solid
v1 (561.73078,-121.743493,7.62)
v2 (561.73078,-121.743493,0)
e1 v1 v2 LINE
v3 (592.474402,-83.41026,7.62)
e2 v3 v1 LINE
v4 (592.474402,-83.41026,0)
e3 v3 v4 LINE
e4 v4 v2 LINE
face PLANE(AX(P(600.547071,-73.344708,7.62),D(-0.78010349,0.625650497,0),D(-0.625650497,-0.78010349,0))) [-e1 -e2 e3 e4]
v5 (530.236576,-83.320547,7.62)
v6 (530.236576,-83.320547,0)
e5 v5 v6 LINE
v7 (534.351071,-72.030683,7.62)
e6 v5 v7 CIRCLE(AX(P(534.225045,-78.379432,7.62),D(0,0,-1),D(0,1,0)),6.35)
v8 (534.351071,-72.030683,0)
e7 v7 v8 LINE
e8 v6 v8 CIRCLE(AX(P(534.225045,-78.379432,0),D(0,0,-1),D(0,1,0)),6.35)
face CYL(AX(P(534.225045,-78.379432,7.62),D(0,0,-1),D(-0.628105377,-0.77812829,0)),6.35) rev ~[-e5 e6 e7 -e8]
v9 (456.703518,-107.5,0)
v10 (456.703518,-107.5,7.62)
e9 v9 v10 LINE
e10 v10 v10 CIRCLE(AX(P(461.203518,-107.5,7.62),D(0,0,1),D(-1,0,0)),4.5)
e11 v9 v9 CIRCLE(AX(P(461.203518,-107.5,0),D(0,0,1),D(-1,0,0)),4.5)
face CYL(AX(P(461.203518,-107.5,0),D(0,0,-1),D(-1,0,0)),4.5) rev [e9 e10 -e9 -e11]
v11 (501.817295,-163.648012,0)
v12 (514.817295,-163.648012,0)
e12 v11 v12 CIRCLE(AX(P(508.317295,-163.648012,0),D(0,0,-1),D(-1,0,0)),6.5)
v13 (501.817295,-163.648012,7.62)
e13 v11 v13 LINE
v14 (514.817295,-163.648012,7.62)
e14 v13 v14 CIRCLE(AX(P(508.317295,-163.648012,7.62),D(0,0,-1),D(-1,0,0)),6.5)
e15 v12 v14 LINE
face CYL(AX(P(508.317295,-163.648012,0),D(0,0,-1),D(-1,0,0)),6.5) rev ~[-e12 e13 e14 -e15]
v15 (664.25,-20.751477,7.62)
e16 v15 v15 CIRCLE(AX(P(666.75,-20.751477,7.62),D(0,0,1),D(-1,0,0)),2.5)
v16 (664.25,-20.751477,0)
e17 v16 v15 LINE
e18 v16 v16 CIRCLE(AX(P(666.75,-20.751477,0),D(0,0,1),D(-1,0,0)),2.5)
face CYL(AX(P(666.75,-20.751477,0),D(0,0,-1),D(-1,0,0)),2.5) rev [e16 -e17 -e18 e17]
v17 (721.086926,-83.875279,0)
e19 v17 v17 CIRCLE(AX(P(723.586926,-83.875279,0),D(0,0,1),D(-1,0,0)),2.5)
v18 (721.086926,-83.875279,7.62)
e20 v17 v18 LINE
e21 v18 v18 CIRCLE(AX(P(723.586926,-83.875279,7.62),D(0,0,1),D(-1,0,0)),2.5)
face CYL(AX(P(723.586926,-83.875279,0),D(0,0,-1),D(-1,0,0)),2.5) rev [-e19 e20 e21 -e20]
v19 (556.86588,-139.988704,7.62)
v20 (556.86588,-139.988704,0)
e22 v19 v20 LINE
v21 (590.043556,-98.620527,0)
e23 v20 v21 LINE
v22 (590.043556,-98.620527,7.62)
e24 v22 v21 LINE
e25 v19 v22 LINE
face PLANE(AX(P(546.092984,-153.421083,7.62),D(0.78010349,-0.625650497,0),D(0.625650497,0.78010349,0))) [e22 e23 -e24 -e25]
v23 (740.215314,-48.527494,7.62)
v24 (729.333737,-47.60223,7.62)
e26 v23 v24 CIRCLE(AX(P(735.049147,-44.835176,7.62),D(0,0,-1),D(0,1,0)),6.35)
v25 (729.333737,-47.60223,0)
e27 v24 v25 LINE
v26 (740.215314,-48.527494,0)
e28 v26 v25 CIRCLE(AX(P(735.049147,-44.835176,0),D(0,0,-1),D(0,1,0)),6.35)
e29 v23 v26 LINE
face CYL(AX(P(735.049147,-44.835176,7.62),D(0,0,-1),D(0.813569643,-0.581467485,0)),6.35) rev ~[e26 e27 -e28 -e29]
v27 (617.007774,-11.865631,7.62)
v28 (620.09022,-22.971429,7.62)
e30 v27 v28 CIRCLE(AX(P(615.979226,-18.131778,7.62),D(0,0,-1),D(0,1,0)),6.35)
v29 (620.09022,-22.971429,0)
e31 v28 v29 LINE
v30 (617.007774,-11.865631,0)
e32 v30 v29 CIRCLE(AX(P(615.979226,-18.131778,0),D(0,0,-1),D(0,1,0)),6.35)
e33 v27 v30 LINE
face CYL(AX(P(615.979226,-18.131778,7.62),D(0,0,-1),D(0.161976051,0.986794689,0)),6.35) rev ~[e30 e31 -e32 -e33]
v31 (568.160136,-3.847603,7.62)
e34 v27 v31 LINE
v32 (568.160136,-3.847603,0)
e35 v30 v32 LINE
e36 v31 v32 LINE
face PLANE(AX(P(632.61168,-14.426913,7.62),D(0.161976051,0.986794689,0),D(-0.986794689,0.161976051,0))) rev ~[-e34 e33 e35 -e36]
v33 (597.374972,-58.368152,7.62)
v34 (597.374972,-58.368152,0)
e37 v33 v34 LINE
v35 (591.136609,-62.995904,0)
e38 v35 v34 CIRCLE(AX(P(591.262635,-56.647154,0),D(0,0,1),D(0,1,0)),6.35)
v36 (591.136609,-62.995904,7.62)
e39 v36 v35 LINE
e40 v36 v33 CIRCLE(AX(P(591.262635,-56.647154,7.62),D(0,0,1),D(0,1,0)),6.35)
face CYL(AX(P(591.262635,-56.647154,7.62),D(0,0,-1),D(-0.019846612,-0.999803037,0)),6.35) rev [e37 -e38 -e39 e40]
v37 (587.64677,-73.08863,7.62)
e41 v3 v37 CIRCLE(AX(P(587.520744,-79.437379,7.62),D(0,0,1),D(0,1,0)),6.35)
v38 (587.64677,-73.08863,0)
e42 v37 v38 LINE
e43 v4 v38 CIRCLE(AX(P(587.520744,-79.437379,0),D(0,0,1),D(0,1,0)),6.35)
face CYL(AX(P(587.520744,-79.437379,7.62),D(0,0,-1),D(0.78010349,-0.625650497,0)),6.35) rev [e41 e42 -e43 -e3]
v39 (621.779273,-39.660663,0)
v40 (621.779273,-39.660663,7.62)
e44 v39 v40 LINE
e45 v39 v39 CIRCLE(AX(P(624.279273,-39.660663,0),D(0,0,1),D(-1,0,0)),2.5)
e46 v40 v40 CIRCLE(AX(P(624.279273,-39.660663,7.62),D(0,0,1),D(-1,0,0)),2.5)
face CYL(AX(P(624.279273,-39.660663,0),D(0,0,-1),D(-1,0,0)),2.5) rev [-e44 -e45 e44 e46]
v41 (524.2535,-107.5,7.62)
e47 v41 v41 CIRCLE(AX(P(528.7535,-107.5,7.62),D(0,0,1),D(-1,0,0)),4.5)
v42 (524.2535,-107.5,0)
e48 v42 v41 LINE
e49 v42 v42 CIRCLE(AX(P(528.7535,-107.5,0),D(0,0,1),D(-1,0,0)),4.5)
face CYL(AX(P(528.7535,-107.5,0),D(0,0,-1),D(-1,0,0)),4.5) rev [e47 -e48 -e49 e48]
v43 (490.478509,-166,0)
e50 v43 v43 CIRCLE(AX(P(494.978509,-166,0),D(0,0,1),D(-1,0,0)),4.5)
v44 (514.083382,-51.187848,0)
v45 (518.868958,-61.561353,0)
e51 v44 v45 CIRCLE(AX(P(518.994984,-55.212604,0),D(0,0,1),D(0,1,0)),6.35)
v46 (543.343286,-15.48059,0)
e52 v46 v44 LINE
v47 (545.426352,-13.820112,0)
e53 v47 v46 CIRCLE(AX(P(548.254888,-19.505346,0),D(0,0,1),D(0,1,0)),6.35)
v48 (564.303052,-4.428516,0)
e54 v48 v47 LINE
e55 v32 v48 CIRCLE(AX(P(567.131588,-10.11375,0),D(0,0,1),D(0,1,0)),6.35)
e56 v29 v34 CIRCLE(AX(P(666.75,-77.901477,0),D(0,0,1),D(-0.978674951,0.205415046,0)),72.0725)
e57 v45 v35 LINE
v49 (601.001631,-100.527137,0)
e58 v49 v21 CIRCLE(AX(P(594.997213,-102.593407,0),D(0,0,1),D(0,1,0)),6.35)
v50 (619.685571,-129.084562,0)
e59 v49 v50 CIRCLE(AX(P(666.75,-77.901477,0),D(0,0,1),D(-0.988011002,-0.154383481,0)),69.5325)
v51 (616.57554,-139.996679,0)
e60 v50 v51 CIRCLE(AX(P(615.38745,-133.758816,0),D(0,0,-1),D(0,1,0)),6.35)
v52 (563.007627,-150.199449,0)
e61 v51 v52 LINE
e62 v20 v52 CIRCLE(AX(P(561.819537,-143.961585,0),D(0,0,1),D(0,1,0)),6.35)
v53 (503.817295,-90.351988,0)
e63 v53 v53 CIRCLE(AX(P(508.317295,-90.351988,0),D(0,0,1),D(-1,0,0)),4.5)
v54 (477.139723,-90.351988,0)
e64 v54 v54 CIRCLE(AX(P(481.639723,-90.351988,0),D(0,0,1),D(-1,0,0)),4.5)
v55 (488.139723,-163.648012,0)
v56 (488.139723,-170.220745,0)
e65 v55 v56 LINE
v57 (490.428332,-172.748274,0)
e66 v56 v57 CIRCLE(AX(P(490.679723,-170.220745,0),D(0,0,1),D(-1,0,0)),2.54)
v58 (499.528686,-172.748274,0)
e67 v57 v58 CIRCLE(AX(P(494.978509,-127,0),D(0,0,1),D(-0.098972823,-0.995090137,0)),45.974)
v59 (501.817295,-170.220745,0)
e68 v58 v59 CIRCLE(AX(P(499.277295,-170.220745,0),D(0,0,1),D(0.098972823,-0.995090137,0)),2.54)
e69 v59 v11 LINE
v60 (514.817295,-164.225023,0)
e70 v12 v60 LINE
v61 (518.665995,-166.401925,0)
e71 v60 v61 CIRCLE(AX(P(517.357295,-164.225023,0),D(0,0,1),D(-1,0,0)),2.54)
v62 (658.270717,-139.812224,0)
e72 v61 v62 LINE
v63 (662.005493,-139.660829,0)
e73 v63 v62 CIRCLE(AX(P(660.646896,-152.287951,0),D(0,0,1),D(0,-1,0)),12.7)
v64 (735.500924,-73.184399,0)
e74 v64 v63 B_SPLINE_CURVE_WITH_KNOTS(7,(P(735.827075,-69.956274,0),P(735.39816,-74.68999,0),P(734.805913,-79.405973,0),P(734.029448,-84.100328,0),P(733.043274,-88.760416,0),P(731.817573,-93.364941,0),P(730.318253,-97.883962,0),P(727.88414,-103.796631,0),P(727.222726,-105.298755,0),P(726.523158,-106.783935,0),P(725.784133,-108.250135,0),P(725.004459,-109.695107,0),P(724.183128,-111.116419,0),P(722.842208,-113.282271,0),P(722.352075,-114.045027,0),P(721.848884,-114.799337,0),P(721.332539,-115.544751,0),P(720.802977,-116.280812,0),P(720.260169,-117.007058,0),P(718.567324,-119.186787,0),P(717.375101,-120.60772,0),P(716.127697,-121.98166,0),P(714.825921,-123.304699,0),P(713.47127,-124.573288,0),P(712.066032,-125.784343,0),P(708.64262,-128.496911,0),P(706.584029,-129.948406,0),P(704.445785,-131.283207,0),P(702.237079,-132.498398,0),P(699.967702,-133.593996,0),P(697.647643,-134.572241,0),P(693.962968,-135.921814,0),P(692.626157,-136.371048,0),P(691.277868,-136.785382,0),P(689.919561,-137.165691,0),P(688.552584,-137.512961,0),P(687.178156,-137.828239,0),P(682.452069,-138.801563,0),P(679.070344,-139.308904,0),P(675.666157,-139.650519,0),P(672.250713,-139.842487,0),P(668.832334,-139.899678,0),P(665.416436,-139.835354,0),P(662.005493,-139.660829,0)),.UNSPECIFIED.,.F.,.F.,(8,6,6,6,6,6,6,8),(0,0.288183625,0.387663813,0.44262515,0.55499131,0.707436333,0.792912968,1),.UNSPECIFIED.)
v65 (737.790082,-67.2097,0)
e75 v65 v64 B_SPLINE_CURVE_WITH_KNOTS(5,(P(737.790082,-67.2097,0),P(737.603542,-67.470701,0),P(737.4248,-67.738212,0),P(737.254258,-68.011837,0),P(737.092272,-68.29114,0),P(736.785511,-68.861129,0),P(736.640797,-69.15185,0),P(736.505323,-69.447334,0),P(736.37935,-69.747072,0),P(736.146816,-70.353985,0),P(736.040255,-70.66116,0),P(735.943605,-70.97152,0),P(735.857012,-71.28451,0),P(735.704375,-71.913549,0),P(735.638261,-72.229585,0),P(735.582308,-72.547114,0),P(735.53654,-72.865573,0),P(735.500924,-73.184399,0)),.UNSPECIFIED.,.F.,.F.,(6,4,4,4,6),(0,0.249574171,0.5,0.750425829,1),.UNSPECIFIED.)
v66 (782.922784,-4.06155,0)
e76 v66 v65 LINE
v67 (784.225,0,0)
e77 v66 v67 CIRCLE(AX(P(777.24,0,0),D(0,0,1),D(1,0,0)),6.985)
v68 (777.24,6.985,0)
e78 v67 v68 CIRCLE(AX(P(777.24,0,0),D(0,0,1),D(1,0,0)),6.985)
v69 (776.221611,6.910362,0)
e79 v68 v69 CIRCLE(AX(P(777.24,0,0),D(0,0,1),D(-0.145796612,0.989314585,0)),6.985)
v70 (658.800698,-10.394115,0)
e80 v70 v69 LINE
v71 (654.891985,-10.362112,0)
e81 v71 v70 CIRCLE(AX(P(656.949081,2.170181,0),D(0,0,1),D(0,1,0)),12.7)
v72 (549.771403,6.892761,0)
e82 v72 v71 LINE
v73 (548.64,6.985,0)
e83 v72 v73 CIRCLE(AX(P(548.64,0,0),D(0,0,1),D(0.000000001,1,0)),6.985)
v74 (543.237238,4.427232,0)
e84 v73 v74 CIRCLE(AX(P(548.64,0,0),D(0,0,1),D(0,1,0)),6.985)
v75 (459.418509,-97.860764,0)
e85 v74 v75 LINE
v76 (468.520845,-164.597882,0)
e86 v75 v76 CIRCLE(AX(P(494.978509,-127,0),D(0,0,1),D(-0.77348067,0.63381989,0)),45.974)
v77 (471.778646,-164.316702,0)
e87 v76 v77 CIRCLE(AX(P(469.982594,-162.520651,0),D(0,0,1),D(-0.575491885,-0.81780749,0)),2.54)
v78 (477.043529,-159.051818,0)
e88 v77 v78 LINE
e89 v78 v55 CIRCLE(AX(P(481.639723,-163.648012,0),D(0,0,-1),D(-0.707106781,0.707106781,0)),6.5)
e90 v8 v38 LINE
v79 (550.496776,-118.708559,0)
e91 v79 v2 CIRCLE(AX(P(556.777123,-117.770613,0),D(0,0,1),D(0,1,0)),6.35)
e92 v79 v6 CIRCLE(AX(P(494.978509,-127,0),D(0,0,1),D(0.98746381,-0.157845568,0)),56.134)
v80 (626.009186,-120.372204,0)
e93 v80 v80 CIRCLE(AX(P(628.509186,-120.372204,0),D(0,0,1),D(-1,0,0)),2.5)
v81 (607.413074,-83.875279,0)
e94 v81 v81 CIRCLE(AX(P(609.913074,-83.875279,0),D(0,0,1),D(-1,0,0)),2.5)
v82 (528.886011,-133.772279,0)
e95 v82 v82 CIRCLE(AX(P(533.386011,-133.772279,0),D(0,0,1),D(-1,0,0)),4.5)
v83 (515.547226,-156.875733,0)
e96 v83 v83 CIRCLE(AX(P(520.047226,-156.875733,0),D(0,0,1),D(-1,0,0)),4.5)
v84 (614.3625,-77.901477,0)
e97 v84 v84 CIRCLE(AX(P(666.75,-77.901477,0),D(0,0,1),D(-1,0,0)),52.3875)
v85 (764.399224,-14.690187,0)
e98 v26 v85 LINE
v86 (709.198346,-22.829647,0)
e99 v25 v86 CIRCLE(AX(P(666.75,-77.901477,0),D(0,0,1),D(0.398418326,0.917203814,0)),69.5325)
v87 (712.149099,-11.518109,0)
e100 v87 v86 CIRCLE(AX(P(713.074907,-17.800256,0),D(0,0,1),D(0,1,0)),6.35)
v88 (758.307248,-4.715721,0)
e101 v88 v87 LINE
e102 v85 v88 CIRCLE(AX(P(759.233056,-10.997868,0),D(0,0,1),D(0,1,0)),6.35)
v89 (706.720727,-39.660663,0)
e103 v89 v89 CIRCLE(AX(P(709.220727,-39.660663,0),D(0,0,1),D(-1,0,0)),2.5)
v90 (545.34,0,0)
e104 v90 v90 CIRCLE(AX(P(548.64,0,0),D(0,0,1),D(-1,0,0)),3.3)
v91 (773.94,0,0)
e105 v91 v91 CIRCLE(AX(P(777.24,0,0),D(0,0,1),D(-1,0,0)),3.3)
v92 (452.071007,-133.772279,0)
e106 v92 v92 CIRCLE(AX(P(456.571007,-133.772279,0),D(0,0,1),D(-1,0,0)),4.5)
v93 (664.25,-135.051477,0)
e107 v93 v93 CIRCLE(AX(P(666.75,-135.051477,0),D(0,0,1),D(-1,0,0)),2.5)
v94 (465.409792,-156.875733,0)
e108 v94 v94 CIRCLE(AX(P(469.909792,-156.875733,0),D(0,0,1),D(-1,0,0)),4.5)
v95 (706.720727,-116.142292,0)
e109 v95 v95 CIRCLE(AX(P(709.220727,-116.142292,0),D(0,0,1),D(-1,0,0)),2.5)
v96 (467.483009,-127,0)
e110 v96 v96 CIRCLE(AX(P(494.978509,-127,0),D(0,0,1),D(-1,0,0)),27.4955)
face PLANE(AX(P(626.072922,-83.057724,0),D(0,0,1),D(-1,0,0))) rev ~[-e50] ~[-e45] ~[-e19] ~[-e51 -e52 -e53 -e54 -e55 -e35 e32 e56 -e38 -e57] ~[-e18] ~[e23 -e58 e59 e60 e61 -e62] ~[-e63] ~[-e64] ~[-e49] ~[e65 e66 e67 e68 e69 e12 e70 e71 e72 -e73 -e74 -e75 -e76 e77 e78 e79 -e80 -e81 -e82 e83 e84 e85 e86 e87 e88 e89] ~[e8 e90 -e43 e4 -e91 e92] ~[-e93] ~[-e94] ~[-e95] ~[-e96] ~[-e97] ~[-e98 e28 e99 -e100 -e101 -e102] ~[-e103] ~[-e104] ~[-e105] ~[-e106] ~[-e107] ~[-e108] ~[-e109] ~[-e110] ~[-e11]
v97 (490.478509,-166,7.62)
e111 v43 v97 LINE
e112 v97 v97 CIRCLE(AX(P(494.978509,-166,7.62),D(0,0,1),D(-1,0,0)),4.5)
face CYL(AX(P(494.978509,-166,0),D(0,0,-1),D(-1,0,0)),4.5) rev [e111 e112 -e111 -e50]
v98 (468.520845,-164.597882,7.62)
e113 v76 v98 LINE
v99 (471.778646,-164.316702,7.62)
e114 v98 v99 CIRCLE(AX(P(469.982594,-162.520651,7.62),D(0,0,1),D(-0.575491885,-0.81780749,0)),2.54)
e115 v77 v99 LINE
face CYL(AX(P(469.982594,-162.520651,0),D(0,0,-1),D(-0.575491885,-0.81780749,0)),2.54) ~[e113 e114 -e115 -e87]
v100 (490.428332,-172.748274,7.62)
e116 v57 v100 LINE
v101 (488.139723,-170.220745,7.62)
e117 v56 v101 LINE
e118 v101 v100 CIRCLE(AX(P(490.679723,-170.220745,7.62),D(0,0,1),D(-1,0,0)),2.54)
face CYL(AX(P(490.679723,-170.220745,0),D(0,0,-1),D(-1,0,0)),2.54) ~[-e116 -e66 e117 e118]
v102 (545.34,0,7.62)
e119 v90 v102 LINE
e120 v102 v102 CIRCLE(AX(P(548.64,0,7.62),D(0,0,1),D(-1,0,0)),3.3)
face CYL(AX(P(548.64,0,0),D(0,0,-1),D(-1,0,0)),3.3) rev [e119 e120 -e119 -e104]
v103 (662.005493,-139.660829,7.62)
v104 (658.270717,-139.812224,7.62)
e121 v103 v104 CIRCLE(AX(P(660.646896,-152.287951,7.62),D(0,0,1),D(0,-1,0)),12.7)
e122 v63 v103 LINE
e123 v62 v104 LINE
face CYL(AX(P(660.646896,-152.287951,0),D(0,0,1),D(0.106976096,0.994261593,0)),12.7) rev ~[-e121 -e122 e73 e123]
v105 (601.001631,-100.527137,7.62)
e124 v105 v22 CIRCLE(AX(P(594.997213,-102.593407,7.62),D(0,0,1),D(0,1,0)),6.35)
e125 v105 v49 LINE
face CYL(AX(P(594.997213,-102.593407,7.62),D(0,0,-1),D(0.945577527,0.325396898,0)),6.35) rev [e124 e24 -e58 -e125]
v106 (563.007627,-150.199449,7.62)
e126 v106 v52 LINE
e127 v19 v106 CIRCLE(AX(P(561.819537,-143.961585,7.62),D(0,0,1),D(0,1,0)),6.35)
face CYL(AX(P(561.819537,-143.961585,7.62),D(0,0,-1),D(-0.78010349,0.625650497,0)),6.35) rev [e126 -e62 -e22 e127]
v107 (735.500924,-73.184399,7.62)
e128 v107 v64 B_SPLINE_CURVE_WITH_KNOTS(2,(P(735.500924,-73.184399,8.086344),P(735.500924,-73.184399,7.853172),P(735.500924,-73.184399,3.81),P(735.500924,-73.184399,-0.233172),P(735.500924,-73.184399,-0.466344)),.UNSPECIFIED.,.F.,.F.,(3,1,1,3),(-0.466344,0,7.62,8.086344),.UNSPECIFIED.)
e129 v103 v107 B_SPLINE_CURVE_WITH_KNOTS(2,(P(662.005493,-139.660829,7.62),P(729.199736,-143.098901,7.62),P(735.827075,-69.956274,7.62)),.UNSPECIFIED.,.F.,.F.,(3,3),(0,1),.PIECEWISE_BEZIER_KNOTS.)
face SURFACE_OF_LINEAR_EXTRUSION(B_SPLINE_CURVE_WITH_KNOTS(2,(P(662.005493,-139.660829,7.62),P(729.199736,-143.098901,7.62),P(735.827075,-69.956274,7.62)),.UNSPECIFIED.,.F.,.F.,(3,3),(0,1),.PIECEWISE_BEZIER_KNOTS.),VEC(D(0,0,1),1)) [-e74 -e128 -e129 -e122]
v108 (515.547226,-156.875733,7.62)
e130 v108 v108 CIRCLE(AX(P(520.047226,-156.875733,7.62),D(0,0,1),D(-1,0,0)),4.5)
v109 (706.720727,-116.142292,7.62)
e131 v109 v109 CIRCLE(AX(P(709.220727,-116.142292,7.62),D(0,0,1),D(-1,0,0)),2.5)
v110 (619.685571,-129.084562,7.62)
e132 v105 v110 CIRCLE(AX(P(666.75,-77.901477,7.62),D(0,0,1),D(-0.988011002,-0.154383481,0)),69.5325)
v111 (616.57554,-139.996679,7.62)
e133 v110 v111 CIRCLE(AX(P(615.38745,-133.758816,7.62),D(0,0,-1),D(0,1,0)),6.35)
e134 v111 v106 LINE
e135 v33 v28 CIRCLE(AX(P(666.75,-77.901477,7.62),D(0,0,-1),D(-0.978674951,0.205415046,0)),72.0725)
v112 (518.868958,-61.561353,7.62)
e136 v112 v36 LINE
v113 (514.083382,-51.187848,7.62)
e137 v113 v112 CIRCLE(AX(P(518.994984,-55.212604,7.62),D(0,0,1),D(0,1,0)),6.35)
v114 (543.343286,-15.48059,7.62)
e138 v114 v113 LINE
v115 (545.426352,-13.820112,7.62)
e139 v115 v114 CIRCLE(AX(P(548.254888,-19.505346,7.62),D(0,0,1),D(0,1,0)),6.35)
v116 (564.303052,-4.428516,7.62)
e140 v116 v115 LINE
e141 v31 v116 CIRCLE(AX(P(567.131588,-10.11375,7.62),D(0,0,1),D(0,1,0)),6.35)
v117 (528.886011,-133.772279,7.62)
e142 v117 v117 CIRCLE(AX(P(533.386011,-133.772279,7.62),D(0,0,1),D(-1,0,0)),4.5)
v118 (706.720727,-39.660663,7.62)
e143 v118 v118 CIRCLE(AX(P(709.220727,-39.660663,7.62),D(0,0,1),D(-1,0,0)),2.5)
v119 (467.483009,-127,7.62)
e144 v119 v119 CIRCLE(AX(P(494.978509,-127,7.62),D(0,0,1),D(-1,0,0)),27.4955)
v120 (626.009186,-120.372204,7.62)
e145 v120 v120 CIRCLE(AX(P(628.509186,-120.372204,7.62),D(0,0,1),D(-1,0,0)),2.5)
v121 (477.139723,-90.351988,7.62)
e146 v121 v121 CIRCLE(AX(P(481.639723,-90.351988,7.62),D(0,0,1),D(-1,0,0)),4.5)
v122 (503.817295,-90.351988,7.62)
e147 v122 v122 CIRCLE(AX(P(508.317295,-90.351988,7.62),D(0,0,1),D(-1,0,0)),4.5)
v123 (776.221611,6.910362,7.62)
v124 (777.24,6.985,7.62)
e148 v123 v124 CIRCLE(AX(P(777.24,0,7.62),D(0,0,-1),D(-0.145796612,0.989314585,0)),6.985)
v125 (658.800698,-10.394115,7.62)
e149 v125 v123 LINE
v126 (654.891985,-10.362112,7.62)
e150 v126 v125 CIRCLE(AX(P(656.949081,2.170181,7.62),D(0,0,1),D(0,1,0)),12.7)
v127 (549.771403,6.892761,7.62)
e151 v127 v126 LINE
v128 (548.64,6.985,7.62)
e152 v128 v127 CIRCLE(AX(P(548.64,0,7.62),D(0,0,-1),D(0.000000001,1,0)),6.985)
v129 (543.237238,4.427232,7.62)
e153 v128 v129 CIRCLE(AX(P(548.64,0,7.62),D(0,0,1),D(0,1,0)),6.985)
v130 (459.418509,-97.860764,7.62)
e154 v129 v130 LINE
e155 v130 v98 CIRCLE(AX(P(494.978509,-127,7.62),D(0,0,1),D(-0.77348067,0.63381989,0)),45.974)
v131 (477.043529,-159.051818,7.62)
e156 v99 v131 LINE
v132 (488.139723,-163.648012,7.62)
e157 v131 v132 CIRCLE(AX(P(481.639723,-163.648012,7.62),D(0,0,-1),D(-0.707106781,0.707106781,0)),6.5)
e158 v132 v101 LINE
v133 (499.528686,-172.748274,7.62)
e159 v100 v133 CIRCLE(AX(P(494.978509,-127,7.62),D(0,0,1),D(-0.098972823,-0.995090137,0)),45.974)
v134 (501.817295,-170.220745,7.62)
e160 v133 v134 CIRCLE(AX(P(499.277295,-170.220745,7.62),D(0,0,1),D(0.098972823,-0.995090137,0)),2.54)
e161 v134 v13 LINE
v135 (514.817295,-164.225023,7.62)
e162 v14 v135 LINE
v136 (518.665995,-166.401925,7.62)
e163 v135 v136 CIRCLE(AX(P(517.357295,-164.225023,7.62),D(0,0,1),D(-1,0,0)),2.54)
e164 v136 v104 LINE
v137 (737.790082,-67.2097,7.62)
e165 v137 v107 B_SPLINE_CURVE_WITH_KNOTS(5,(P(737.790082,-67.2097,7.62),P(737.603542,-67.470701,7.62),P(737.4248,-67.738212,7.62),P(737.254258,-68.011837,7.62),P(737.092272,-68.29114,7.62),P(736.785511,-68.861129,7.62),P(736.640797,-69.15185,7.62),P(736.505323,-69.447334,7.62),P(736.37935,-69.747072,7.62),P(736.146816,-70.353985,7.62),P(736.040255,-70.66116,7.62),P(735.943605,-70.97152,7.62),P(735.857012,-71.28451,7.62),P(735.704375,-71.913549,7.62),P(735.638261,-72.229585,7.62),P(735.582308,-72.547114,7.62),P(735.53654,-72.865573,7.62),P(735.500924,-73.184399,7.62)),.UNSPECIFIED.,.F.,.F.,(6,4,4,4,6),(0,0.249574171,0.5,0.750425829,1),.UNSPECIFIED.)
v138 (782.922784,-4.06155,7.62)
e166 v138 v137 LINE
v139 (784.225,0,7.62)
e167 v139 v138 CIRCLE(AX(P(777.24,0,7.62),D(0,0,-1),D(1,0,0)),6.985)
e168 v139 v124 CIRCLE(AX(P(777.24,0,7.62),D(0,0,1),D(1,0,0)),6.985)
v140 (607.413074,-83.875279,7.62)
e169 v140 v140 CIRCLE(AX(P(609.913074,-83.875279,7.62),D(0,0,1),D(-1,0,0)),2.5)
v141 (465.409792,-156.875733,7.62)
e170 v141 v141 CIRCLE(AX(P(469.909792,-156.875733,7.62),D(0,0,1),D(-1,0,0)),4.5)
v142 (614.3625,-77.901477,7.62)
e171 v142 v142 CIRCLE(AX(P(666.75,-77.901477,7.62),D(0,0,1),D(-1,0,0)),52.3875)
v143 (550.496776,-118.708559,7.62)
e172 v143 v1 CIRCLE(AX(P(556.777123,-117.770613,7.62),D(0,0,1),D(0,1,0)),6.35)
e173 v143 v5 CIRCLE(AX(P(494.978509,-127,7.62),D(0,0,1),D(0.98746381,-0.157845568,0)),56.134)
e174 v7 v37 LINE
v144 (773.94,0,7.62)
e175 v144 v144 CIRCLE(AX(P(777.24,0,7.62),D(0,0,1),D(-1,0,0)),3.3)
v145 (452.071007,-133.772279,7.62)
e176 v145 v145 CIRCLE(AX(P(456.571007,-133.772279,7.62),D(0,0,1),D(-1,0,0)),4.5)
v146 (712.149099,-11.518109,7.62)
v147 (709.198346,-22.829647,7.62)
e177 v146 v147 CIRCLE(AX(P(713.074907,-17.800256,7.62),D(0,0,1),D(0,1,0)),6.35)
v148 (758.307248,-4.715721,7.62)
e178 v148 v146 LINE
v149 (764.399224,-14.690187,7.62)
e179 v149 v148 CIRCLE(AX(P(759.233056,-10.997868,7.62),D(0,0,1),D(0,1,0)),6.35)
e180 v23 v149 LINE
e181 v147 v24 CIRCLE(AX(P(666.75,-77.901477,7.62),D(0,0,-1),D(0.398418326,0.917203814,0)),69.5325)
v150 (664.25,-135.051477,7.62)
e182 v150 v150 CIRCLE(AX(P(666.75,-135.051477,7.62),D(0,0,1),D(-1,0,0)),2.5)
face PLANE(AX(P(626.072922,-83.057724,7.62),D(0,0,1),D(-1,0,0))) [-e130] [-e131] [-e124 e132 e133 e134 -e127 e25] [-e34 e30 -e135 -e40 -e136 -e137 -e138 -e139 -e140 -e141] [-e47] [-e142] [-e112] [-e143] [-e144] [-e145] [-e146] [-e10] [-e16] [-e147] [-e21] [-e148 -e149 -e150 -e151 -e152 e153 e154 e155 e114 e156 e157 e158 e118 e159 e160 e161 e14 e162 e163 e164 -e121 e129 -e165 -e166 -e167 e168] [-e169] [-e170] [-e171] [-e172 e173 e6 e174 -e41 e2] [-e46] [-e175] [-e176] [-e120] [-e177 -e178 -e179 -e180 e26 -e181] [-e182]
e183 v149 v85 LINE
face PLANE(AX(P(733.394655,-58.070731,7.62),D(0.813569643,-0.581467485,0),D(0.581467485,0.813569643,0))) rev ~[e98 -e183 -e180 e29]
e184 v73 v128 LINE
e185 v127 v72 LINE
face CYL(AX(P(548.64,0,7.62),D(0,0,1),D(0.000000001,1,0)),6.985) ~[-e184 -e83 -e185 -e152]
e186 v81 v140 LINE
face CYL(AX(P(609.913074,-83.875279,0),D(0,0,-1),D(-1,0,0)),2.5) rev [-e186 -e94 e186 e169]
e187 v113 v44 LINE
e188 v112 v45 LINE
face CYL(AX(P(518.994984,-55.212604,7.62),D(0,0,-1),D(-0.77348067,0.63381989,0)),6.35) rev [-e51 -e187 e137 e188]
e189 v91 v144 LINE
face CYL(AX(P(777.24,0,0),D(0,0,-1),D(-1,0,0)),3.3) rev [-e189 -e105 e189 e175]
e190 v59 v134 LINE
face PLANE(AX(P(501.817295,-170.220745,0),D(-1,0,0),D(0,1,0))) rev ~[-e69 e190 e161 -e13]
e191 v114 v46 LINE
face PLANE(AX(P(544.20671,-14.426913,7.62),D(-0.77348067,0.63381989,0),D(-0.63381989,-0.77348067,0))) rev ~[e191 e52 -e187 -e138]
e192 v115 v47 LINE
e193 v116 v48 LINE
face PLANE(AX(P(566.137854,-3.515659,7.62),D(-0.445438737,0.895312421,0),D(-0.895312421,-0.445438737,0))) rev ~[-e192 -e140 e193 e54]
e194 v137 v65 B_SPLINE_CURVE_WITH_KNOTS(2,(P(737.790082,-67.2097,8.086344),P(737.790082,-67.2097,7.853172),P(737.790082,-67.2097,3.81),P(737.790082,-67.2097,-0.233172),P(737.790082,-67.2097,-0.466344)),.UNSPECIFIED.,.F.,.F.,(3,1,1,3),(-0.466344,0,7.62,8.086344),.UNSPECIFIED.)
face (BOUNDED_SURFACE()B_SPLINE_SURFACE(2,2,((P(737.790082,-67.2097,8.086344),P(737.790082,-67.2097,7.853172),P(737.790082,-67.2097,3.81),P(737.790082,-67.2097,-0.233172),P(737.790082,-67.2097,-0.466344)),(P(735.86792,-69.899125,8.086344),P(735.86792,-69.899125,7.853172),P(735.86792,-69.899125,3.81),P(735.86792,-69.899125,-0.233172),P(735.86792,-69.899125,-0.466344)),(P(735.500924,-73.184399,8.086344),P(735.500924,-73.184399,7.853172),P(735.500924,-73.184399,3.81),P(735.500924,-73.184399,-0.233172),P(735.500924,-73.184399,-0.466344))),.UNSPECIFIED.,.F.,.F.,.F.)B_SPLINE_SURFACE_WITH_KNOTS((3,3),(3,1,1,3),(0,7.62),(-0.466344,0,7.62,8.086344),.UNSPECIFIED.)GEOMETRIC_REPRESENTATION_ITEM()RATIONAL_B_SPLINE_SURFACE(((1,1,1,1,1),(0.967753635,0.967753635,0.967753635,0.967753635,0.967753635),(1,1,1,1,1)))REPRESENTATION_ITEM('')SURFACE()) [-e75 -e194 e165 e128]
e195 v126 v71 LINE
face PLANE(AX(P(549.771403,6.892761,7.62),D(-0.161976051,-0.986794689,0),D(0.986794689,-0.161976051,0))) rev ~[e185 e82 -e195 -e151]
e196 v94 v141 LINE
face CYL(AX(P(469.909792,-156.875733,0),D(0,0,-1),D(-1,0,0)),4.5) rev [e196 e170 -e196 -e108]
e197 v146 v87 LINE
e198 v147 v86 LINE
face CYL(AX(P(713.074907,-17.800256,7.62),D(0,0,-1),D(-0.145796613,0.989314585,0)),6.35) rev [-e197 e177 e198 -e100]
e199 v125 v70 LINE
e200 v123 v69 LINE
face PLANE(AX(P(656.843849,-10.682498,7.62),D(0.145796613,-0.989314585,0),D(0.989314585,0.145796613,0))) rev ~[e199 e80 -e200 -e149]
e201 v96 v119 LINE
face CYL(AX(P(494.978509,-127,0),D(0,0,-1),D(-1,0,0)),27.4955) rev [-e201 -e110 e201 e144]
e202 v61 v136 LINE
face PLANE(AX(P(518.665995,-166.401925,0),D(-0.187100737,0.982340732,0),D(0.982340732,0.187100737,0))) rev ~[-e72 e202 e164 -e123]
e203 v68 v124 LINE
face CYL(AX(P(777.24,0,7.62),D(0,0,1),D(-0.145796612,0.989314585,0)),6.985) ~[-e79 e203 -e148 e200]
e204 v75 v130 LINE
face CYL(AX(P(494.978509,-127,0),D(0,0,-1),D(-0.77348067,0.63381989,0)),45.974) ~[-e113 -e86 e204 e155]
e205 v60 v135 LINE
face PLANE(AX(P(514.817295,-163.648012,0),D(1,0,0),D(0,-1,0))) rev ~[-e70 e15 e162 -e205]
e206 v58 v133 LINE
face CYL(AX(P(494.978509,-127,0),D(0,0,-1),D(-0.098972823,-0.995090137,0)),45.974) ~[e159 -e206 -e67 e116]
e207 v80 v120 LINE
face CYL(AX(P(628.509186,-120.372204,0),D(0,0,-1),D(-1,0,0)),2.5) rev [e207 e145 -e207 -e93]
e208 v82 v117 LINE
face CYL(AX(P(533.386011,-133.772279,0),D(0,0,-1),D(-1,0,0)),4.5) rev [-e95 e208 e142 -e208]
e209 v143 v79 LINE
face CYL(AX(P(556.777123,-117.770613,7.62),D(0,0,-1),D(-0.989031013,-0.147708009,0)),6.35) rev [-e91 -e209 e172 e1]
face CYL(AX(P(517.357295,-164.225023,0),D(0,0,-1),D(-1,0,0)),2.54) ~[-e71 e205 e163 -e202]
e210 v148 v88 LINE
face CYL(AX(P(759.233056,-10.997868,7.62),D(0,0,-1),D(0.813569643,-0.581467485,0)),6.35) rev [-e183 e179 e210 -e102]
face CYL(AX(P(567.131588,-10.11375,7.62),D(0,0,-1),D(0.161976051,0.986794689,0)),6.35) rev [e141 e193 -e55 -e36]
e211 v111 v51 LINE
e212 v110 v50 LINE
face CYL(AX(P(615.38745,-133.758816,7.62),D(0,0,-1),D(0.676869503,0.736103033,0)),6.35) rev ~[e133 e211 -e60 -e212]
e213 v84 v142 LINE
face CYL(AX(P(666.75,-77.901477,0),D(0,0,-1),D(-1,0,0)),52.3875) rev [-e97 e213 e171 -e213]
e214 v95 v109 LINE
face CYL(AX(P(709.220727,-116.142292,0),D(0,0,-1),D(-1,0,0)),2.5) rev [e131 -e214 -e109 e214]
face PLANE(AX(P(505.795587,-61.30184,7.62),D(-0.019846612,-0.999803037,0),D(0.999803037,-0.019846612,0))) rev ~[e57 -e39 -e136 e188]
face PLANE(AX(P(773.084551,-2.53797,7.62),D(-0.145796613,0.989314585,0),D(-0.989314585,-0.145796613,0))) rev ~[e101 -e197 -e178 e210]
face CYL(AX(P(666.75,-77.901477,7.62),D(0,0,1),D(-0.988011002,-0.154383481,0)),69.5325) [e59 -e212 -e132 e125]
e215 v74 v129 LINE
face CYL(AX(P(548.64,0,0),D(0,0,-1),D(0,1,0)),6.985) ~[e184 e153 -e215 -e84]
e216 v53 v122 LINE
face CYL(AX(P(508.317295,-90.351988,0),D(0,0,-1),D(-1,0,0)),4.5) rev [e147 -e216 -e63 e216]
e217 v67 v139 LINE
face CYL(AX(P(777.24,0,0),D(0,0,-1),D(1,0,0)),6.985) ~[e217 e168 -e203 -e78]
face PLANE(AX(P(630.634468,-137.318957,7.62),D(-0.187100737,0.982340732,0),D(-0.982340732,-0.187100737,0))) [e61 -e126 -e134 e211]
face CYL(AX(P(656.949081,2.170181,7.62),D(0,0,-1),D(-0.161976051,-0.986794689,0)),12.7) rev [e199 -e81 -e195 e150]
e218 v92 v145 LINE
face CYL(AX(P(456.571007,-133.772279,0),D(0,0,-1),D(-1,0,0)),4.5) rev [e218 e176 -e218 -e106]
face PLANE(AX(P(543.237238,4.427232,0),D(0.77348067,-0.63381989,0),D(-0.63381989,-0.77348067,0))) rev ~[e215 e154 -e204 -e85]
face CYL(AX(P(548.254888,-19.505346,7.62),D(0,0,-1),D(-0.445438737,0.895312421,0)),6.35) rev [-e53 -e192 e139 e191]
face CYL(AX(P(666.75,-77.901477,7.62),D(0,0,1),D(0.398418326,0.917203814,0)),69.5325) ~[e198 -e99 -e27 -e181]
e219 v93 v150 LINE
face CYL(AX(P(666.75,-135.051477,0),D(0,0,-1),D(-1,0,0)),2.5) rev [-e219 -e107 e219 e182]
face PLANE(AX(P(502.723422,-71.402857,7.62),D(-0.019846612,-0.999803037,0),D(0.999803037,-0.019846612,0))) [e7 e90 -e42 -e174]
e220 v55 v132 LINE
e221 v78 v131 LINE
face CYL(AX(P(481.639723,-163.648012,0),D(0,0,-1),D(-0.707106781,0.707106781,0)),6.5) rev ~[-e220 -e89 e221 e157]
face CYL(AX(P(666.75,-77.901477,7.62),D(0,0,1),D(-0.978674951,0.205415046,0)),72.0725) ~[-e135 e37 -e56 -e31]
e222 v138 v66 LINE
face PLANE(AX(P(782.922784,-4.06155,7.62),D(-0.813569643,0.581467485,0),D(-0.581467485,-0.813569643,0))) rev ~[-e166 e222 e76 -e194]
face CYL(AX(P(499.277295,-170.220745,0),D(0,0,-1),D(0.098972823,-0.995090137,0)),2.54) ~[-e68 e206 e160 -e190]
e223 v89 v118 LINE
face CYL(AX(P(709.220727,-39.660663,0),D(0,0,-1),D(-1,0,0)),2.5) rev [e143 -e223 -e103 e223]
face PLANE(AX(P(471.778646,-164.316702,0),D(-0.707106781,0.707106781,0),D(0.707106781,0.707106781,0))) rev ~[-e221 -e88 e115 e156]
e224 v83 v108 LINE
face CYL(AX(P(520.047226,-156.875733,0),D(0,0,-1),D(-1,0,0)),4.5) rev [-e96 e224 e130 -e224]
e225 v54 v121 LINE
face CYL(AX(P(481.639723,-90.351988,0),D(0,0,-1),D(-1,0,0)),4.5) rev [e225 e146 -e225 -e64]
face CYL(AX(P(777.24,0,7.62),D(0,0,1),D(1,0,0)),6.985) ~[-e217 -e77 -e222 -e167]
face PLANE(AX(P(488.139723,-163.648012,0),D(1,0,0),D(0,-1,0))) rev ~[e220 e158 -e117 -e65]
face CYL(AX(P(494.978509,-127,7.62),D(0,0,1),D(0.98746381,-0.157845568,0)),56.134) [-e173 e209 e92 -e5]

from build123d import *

# Parameters (mm, degrees)
SKETCH15_R          = 4.5
SKETCH15_R_2        = 27.4955
SKETCH15_R_3        = 2.5
SKETCH15_R_4        = 52.3875
SKETCH15_R_5        = 3.3
BOSS_EXTRUDE1_DEPTH = 7.62
PROFILE_DEPTH       = 804.110776731
PROF_FILLET_R       = 12.7
CUT_EXTRUDE2_DEPTH  = 804.110776731
FILLET2_R           = 6.35
CUT_EXTRUDE4_DEPTH  = 804.110776731
FILLET5_R           = 6.35
CUT_EXTRUDE8_DEPTH  = 804.110776731
FILLET6_R           = 12.7


with BuildPart() as part:
    # Sketch15 → Boss-Extrude1 (new body)
    with BuildSketch(Plane(origin=(0, 0, 0), x_dir=(-1, 0, 0), z_dir=(0, 0, 1))):
        with BuildLine():
            ThreePointArc((-468.520845097, 164.597881552), (-470.201009111, 165.051242365), (-471.778645707, 164.316701751))
            Line((-471.778645707, 164.316701751), (-477.043529325, 159.051818133))
            ThreePointArc((-477.043529325, 159.051818133), (-484.127165713, 157.642795249), (-488.139723403, 163.648012211))
            Line((-488.139723403, 163.648012211), (-488.139723403, 170.220745001))
            ThreePointArc((-488.139723403, 170.220745001), (-488.796888696, 171.925600851), (-490.428332433, 172.748273949))
            ThreePointArc((-490.428332433, 172.748273949), (-494.978508993, 172.974), (-499.528685552, 172.748273949))
            ThreePointArc((-499.528685552, 172.748273949), (-501.160129289, 171.925600851), (-501.817294582, 170.220745001))
            Line((-501.817294582, 170.220745001), (-501.817294582, 163.648012211))
            ThreePointArc((-501.817294582, 163.648012211), (-508.317294582, 157.148012211), (-514.817294582, 163.648012211))
            Line((-514.817294582, 163.648012211), (-514.817294582, 164.225022653))
            ThreePointArc((-514.817294582, 164.225022653), (-516.106794745, 166.435870942), (-518.665995494, 166.401924563))
            Line((-518.665995494, 166.401924563), (-660.126842441, 139.458698233))
            Line((-660.126842441, 139.458698233), (-776.492771968, 151.978917225))
            ThreePointArc((-776.492771968, 151.978917225), (-781.907485254, 150.230614898), (-784.225, 145.034))
            Line((-784.225, 145.034), (-784.225, 0))
            ThreePointArc((-784.225, 0), (-782.179140867, -4.939140867), (-777.24, -6.985))
            Line((-777.24, -6.985), (-548.64, -6.985))
            ThreePointArc((-548.64, -6.985), (-545.651186694, -6.313257481), (-543.237237519, -4.427231931))
            Line((-543.237237519, -4.427231931), (-459.418508663, 97.860764379))
            ThreePointArc((-459.418508663, 97.860764379), (-449.426249212, 133.212914363), (-468.520845097, 164.597881552))
        make_face()
        with Locations((-508.317294582, 90.351987789)):
            Circle(SKETCH15_R, mode=Mode.SUBTRACT)
        with Locations((-481.639723403, 90.351987789)):
            Circle(SKETCH15_R, mode=Mode.SUBTRACT)
        with Locations((-528.75349974, 107.5)):
            Circle(SKETCH15_R, mode=Mode.SUBTRACT)
        with Locations((-461.203518245, 107.5)):
            Circle(SKETCH15_R, mode=Mode.SUBTRACT)
        with Locations((-533.38601136, 133.772278929)):
            Circle(SKETCH15_R, mode=Mode.SUBTRACT)
        with Locations((-494.978508993, 127)):
            Circle(SKETCH15_R_2, mode=Mode.SUBTRACT)
        with Locations((-456.571006625, 133.772278929)):
            Circle(SKETCH15_R, mode=Mode.SUBTRACT)
        with Locations((-520.04722577, 156.875733282)):
            Circle(SKETCH15_R, mode=Mode.SUBTRACT)
        with Locations((-494.978508993, 166)):
            Circle(SKETCH15_R, mode=Mode.SUBTRACT)
        with Locations((-469.909792215, 156.875733282)):
            Circle(SKETCH15_R, mode=Mode.SUBTRACT)
        with Locations((-609.91307368, 83.875279047)):
            Circle(SKETCH15_R_3, mode=Mode.SUBTRACT)
        with Locations((-666.75, 135.051477371)):
            Circle(SKETCH15_R_3, mode=Mode.SUBTRACT)
        with Locations((-666.75, 20.751477371)):
            Circle(SKETCH15_R_3, mode=Mode.SUBTRACT)
        with Locations((-709.220726776, 39.660663218)):
            Circle(SKETCH15_R_3, mode=Mode.SUBTRACT)
        with Locations((-624.279273224, 39.660663218)):
            Circle(SKETCH15_R_3, mode=Mode.SUBTRACT)
        with Locations((-666.75, 77.901477371)):
            Circle(SKETCH15_R_4, mode=Mode.SUBTRACT)
        with Locations((-723.58692632, 83.875279047)):
            Circle(SKETCH15_R_3, mode=Mode.SUBTRACT)
        with Locations((-709.220726776, 116.142291524)):
            Circle(SKETCH15_R_3, mode=Mode.SUBTRACT)
        with Locations((-628.509185847, 120.372204147)):
            Circle(SKETCH15_R_3, mode=Mode.SUBTRACT)
        with Locations((-548.64, 0)):
            Circle(SKETCH15_R_5, mode=Mode.SUBTRACT)
        with Locations((-777.24, 0)):
            Circle(SKETCH15_R_5, mode=Mode.SUBTRACT)
        with Locations((-777.24, 145.034)):
            Circle(SKETCH15_R_5, mode=Mode.SUBTRACT)
    extrude(amount=BOSS_EXTRUDE1_DEPTH)

    # Sketch18 → Profile (cut, through all)
    with BuildSketch(Plane.XY.offset(7.62)):
        with BuildLine():
            Line((656.843849148, -10.682497906), (776.22161066, 6.910362375))
            ThreePointArc((776.22161066, 6.910362375), (776.729439616, 6.966315604), (777.24, 6.985))
            Line((777.24, 6.985), (548.64, 6.985))
            ThreePointArc((548.64, 6.985), (549.207578223, 6.961902036), (549.771402717, 6.892760905))
            Line((549.771402717, 6.892760905), (656.843849148, -10.682497906))
        make_face()
        with BuildLine():
            Line((735.827075043, -69.956273799), (783.061059407, -141.173236814))
            ThreePointArc((783.061059407, -141.173236814), (783.927687379, -143.01779998), (784.225, -145.034))
            Line((784.225, -145.034), (784.225, 0))
            ThreePointArc((784.225, 0), (783.891483704, -2.132601588), (782.922783957, -4.061550382))
            Line((782.922783957, -4.061550382), (735.827075043, -69.956273799))
        make_face()
    extrude(amount=-PROFILE_DEPTH, mode=Mode.SUBTRACT)

    # Prof Fillet
    prof_fillet_edges = [part.edges().sort_by_distance(p)[0] for p in [
        (660.126842441, -139.458698233, 3.81),
        (656.843849148, -10.682497906, 3.81),
    ]]
    fillet(prof_fillet_edges, radius=PROF_FILLET_R)

    # Sketch19 → Cut-Extrude2 (cut, through all)
    with BuildSketch(Plane.XY.offset(7.62)):
        with BuildLine():
            ThreePointArc((694.45302227, -14.12600314), (718.789944466, -31.786265822), (733.394654999, -58.070730629))
            Line((733.394654999, -58.070730629), (773.084551456, -2.537969581))
            Line((773.084551456, -2.537969581), (694.45302227, -14.12600314))
        make_face()
        with BuildLine():
            Line((772.681244896, -143.90484261), (735.555674658, -87.928824534))
            ThreePointArc((735.555674658, -87.928824534), (725.141244771, -115.65371029), (704.133403657, -136.529539656))
            Line((704.133403657, -136.529539656), (772.681244896, -143.90484261))
        make_face()
    extrude(amount=-CUT_EXTRUDE2_DEPTH, mode=Mode.SUBTRACT)

    # Fillet2
    fillet2_edges = [part.edges().sort_by_distance(p)[0] for p in [
        (694.45302227, -14.12600314, 3.81),
        (773.084551456, -2.537969581, 3.81),
        (733.394654999, -58.070730629, 3.81),
        (772.681244896, -143.90484261, 3.81),
        (704.133403657, -136.529539656, 3.81),
        (735.555674658, -87.928824534, 3.81),
    ]]
    fillet(fillet2_edges, radius=FILLET2_R)

    # Sketch22 → Cut-Extrude4 (cut, through all)
    with BuildSketch(Plane.XY.offset(7.62)):
        with BuildLine():
            Line((544.206709687, -14.426912925), (505.79558687, -61.301839836))
            Line((505.79558687, -61.301839836), (596.214449629, -63.096701449))
            ThreePointArc((596.214449629, -63.096701449), (609.03222208, -34.737796246), (632.611679529, -14.426912925))
            Line((632.611679529, -14.426912925), (566.137854436, -3.515658731))
            Line((566.137854436, -3.515658731), (544.206709687, -14.426912925))
        make_face()
        with BuildLine():
            Line((546.092983647, -153.421082711), (630.634467741, -137.318957004))
            ThreePointArc((630.634467741, -137.318957004), (608.965754764, -116.576398946), (598.051124974, -88.636146739))
            Line((598.051124974, -88.636146739), (546.092983647, -153.421082711))
        make_face()
        with BuildLine():
            Line((600.547071221, -73.344707791), (502.723422183, -71.402857307))
            ThreePointArc((502.723422183, -71.402857307), (540.105814597, -93.615089563), (550.408802524, -135.86050309))
            Line((550.408802524, -135.86050309), (600.547071221, -73.344707791))
        make_face()
    extrude(amount=-CUT_EXTRUDE4_DEPTH, mode=Mode.SUBTRACT)

    # Fillet5
    fillet5_edges = [part.edges().sort_by_distance(p)[0] for p in [
        (630.634467741, -137.318957004, 3.81),
        (546.092983647, -153.421082711, 3.81),
        (598.051124974, -88.636146739, 3.81),
        (550.408802524, -135.86050309, 3.81),
        (600.547071221, -73.344707791, 3.81),
        (502.723422183, -71.402857307, 3.81),
        (596.214449629, -63.096701449, 3.81),
        (505.79558687, -61.301839836, 3.81),
        (632.611679529, -14.426912925, 3.81),
        (566.137854436, -3.515658731, 3.81),
        (544.206709687, -14.426912925, 3.81),
    ]]
    fillet(fillet5_edges, radius=FILLET5_R)

    # Sketch26 → Cut-Extrude8 (cut, through all)
    with BuildSketch(Plane.XY.offset(7.62)):
        with BuildLine():
            Line((783.061059407, -141.173236814), (735.827075043, -69.956273799))
            add(Edge.make_bspline(
                [(662.00549252, -139.660828792), (729.199735591, -143.098901444), (735.827075043, -69.956273799)],
                knots=[0, 0, 0, 1, 1, 1], degree=2))
            Line((662.00549252, -139.660828792), (776.492771968, -151.978917225))
            ThreePointArc((776.492771968, -151.978917225), (783.208804193, -148.662167789), (783.061059407, -141.173236814))
        make_face()
    extrude(amount=-CUT_EXTRUDE8_DEPTH, mode=Mode.SUBTRACT)

    # Fillet6
    fillet6_edges = [part.edges().sort_by_distance(p)[0] for p in [
        (735.827075043, -69.956273799, 3.81),
    ]]
    fillet(fillet6_edges, radius=FILLET6_R)


solid = part.part
